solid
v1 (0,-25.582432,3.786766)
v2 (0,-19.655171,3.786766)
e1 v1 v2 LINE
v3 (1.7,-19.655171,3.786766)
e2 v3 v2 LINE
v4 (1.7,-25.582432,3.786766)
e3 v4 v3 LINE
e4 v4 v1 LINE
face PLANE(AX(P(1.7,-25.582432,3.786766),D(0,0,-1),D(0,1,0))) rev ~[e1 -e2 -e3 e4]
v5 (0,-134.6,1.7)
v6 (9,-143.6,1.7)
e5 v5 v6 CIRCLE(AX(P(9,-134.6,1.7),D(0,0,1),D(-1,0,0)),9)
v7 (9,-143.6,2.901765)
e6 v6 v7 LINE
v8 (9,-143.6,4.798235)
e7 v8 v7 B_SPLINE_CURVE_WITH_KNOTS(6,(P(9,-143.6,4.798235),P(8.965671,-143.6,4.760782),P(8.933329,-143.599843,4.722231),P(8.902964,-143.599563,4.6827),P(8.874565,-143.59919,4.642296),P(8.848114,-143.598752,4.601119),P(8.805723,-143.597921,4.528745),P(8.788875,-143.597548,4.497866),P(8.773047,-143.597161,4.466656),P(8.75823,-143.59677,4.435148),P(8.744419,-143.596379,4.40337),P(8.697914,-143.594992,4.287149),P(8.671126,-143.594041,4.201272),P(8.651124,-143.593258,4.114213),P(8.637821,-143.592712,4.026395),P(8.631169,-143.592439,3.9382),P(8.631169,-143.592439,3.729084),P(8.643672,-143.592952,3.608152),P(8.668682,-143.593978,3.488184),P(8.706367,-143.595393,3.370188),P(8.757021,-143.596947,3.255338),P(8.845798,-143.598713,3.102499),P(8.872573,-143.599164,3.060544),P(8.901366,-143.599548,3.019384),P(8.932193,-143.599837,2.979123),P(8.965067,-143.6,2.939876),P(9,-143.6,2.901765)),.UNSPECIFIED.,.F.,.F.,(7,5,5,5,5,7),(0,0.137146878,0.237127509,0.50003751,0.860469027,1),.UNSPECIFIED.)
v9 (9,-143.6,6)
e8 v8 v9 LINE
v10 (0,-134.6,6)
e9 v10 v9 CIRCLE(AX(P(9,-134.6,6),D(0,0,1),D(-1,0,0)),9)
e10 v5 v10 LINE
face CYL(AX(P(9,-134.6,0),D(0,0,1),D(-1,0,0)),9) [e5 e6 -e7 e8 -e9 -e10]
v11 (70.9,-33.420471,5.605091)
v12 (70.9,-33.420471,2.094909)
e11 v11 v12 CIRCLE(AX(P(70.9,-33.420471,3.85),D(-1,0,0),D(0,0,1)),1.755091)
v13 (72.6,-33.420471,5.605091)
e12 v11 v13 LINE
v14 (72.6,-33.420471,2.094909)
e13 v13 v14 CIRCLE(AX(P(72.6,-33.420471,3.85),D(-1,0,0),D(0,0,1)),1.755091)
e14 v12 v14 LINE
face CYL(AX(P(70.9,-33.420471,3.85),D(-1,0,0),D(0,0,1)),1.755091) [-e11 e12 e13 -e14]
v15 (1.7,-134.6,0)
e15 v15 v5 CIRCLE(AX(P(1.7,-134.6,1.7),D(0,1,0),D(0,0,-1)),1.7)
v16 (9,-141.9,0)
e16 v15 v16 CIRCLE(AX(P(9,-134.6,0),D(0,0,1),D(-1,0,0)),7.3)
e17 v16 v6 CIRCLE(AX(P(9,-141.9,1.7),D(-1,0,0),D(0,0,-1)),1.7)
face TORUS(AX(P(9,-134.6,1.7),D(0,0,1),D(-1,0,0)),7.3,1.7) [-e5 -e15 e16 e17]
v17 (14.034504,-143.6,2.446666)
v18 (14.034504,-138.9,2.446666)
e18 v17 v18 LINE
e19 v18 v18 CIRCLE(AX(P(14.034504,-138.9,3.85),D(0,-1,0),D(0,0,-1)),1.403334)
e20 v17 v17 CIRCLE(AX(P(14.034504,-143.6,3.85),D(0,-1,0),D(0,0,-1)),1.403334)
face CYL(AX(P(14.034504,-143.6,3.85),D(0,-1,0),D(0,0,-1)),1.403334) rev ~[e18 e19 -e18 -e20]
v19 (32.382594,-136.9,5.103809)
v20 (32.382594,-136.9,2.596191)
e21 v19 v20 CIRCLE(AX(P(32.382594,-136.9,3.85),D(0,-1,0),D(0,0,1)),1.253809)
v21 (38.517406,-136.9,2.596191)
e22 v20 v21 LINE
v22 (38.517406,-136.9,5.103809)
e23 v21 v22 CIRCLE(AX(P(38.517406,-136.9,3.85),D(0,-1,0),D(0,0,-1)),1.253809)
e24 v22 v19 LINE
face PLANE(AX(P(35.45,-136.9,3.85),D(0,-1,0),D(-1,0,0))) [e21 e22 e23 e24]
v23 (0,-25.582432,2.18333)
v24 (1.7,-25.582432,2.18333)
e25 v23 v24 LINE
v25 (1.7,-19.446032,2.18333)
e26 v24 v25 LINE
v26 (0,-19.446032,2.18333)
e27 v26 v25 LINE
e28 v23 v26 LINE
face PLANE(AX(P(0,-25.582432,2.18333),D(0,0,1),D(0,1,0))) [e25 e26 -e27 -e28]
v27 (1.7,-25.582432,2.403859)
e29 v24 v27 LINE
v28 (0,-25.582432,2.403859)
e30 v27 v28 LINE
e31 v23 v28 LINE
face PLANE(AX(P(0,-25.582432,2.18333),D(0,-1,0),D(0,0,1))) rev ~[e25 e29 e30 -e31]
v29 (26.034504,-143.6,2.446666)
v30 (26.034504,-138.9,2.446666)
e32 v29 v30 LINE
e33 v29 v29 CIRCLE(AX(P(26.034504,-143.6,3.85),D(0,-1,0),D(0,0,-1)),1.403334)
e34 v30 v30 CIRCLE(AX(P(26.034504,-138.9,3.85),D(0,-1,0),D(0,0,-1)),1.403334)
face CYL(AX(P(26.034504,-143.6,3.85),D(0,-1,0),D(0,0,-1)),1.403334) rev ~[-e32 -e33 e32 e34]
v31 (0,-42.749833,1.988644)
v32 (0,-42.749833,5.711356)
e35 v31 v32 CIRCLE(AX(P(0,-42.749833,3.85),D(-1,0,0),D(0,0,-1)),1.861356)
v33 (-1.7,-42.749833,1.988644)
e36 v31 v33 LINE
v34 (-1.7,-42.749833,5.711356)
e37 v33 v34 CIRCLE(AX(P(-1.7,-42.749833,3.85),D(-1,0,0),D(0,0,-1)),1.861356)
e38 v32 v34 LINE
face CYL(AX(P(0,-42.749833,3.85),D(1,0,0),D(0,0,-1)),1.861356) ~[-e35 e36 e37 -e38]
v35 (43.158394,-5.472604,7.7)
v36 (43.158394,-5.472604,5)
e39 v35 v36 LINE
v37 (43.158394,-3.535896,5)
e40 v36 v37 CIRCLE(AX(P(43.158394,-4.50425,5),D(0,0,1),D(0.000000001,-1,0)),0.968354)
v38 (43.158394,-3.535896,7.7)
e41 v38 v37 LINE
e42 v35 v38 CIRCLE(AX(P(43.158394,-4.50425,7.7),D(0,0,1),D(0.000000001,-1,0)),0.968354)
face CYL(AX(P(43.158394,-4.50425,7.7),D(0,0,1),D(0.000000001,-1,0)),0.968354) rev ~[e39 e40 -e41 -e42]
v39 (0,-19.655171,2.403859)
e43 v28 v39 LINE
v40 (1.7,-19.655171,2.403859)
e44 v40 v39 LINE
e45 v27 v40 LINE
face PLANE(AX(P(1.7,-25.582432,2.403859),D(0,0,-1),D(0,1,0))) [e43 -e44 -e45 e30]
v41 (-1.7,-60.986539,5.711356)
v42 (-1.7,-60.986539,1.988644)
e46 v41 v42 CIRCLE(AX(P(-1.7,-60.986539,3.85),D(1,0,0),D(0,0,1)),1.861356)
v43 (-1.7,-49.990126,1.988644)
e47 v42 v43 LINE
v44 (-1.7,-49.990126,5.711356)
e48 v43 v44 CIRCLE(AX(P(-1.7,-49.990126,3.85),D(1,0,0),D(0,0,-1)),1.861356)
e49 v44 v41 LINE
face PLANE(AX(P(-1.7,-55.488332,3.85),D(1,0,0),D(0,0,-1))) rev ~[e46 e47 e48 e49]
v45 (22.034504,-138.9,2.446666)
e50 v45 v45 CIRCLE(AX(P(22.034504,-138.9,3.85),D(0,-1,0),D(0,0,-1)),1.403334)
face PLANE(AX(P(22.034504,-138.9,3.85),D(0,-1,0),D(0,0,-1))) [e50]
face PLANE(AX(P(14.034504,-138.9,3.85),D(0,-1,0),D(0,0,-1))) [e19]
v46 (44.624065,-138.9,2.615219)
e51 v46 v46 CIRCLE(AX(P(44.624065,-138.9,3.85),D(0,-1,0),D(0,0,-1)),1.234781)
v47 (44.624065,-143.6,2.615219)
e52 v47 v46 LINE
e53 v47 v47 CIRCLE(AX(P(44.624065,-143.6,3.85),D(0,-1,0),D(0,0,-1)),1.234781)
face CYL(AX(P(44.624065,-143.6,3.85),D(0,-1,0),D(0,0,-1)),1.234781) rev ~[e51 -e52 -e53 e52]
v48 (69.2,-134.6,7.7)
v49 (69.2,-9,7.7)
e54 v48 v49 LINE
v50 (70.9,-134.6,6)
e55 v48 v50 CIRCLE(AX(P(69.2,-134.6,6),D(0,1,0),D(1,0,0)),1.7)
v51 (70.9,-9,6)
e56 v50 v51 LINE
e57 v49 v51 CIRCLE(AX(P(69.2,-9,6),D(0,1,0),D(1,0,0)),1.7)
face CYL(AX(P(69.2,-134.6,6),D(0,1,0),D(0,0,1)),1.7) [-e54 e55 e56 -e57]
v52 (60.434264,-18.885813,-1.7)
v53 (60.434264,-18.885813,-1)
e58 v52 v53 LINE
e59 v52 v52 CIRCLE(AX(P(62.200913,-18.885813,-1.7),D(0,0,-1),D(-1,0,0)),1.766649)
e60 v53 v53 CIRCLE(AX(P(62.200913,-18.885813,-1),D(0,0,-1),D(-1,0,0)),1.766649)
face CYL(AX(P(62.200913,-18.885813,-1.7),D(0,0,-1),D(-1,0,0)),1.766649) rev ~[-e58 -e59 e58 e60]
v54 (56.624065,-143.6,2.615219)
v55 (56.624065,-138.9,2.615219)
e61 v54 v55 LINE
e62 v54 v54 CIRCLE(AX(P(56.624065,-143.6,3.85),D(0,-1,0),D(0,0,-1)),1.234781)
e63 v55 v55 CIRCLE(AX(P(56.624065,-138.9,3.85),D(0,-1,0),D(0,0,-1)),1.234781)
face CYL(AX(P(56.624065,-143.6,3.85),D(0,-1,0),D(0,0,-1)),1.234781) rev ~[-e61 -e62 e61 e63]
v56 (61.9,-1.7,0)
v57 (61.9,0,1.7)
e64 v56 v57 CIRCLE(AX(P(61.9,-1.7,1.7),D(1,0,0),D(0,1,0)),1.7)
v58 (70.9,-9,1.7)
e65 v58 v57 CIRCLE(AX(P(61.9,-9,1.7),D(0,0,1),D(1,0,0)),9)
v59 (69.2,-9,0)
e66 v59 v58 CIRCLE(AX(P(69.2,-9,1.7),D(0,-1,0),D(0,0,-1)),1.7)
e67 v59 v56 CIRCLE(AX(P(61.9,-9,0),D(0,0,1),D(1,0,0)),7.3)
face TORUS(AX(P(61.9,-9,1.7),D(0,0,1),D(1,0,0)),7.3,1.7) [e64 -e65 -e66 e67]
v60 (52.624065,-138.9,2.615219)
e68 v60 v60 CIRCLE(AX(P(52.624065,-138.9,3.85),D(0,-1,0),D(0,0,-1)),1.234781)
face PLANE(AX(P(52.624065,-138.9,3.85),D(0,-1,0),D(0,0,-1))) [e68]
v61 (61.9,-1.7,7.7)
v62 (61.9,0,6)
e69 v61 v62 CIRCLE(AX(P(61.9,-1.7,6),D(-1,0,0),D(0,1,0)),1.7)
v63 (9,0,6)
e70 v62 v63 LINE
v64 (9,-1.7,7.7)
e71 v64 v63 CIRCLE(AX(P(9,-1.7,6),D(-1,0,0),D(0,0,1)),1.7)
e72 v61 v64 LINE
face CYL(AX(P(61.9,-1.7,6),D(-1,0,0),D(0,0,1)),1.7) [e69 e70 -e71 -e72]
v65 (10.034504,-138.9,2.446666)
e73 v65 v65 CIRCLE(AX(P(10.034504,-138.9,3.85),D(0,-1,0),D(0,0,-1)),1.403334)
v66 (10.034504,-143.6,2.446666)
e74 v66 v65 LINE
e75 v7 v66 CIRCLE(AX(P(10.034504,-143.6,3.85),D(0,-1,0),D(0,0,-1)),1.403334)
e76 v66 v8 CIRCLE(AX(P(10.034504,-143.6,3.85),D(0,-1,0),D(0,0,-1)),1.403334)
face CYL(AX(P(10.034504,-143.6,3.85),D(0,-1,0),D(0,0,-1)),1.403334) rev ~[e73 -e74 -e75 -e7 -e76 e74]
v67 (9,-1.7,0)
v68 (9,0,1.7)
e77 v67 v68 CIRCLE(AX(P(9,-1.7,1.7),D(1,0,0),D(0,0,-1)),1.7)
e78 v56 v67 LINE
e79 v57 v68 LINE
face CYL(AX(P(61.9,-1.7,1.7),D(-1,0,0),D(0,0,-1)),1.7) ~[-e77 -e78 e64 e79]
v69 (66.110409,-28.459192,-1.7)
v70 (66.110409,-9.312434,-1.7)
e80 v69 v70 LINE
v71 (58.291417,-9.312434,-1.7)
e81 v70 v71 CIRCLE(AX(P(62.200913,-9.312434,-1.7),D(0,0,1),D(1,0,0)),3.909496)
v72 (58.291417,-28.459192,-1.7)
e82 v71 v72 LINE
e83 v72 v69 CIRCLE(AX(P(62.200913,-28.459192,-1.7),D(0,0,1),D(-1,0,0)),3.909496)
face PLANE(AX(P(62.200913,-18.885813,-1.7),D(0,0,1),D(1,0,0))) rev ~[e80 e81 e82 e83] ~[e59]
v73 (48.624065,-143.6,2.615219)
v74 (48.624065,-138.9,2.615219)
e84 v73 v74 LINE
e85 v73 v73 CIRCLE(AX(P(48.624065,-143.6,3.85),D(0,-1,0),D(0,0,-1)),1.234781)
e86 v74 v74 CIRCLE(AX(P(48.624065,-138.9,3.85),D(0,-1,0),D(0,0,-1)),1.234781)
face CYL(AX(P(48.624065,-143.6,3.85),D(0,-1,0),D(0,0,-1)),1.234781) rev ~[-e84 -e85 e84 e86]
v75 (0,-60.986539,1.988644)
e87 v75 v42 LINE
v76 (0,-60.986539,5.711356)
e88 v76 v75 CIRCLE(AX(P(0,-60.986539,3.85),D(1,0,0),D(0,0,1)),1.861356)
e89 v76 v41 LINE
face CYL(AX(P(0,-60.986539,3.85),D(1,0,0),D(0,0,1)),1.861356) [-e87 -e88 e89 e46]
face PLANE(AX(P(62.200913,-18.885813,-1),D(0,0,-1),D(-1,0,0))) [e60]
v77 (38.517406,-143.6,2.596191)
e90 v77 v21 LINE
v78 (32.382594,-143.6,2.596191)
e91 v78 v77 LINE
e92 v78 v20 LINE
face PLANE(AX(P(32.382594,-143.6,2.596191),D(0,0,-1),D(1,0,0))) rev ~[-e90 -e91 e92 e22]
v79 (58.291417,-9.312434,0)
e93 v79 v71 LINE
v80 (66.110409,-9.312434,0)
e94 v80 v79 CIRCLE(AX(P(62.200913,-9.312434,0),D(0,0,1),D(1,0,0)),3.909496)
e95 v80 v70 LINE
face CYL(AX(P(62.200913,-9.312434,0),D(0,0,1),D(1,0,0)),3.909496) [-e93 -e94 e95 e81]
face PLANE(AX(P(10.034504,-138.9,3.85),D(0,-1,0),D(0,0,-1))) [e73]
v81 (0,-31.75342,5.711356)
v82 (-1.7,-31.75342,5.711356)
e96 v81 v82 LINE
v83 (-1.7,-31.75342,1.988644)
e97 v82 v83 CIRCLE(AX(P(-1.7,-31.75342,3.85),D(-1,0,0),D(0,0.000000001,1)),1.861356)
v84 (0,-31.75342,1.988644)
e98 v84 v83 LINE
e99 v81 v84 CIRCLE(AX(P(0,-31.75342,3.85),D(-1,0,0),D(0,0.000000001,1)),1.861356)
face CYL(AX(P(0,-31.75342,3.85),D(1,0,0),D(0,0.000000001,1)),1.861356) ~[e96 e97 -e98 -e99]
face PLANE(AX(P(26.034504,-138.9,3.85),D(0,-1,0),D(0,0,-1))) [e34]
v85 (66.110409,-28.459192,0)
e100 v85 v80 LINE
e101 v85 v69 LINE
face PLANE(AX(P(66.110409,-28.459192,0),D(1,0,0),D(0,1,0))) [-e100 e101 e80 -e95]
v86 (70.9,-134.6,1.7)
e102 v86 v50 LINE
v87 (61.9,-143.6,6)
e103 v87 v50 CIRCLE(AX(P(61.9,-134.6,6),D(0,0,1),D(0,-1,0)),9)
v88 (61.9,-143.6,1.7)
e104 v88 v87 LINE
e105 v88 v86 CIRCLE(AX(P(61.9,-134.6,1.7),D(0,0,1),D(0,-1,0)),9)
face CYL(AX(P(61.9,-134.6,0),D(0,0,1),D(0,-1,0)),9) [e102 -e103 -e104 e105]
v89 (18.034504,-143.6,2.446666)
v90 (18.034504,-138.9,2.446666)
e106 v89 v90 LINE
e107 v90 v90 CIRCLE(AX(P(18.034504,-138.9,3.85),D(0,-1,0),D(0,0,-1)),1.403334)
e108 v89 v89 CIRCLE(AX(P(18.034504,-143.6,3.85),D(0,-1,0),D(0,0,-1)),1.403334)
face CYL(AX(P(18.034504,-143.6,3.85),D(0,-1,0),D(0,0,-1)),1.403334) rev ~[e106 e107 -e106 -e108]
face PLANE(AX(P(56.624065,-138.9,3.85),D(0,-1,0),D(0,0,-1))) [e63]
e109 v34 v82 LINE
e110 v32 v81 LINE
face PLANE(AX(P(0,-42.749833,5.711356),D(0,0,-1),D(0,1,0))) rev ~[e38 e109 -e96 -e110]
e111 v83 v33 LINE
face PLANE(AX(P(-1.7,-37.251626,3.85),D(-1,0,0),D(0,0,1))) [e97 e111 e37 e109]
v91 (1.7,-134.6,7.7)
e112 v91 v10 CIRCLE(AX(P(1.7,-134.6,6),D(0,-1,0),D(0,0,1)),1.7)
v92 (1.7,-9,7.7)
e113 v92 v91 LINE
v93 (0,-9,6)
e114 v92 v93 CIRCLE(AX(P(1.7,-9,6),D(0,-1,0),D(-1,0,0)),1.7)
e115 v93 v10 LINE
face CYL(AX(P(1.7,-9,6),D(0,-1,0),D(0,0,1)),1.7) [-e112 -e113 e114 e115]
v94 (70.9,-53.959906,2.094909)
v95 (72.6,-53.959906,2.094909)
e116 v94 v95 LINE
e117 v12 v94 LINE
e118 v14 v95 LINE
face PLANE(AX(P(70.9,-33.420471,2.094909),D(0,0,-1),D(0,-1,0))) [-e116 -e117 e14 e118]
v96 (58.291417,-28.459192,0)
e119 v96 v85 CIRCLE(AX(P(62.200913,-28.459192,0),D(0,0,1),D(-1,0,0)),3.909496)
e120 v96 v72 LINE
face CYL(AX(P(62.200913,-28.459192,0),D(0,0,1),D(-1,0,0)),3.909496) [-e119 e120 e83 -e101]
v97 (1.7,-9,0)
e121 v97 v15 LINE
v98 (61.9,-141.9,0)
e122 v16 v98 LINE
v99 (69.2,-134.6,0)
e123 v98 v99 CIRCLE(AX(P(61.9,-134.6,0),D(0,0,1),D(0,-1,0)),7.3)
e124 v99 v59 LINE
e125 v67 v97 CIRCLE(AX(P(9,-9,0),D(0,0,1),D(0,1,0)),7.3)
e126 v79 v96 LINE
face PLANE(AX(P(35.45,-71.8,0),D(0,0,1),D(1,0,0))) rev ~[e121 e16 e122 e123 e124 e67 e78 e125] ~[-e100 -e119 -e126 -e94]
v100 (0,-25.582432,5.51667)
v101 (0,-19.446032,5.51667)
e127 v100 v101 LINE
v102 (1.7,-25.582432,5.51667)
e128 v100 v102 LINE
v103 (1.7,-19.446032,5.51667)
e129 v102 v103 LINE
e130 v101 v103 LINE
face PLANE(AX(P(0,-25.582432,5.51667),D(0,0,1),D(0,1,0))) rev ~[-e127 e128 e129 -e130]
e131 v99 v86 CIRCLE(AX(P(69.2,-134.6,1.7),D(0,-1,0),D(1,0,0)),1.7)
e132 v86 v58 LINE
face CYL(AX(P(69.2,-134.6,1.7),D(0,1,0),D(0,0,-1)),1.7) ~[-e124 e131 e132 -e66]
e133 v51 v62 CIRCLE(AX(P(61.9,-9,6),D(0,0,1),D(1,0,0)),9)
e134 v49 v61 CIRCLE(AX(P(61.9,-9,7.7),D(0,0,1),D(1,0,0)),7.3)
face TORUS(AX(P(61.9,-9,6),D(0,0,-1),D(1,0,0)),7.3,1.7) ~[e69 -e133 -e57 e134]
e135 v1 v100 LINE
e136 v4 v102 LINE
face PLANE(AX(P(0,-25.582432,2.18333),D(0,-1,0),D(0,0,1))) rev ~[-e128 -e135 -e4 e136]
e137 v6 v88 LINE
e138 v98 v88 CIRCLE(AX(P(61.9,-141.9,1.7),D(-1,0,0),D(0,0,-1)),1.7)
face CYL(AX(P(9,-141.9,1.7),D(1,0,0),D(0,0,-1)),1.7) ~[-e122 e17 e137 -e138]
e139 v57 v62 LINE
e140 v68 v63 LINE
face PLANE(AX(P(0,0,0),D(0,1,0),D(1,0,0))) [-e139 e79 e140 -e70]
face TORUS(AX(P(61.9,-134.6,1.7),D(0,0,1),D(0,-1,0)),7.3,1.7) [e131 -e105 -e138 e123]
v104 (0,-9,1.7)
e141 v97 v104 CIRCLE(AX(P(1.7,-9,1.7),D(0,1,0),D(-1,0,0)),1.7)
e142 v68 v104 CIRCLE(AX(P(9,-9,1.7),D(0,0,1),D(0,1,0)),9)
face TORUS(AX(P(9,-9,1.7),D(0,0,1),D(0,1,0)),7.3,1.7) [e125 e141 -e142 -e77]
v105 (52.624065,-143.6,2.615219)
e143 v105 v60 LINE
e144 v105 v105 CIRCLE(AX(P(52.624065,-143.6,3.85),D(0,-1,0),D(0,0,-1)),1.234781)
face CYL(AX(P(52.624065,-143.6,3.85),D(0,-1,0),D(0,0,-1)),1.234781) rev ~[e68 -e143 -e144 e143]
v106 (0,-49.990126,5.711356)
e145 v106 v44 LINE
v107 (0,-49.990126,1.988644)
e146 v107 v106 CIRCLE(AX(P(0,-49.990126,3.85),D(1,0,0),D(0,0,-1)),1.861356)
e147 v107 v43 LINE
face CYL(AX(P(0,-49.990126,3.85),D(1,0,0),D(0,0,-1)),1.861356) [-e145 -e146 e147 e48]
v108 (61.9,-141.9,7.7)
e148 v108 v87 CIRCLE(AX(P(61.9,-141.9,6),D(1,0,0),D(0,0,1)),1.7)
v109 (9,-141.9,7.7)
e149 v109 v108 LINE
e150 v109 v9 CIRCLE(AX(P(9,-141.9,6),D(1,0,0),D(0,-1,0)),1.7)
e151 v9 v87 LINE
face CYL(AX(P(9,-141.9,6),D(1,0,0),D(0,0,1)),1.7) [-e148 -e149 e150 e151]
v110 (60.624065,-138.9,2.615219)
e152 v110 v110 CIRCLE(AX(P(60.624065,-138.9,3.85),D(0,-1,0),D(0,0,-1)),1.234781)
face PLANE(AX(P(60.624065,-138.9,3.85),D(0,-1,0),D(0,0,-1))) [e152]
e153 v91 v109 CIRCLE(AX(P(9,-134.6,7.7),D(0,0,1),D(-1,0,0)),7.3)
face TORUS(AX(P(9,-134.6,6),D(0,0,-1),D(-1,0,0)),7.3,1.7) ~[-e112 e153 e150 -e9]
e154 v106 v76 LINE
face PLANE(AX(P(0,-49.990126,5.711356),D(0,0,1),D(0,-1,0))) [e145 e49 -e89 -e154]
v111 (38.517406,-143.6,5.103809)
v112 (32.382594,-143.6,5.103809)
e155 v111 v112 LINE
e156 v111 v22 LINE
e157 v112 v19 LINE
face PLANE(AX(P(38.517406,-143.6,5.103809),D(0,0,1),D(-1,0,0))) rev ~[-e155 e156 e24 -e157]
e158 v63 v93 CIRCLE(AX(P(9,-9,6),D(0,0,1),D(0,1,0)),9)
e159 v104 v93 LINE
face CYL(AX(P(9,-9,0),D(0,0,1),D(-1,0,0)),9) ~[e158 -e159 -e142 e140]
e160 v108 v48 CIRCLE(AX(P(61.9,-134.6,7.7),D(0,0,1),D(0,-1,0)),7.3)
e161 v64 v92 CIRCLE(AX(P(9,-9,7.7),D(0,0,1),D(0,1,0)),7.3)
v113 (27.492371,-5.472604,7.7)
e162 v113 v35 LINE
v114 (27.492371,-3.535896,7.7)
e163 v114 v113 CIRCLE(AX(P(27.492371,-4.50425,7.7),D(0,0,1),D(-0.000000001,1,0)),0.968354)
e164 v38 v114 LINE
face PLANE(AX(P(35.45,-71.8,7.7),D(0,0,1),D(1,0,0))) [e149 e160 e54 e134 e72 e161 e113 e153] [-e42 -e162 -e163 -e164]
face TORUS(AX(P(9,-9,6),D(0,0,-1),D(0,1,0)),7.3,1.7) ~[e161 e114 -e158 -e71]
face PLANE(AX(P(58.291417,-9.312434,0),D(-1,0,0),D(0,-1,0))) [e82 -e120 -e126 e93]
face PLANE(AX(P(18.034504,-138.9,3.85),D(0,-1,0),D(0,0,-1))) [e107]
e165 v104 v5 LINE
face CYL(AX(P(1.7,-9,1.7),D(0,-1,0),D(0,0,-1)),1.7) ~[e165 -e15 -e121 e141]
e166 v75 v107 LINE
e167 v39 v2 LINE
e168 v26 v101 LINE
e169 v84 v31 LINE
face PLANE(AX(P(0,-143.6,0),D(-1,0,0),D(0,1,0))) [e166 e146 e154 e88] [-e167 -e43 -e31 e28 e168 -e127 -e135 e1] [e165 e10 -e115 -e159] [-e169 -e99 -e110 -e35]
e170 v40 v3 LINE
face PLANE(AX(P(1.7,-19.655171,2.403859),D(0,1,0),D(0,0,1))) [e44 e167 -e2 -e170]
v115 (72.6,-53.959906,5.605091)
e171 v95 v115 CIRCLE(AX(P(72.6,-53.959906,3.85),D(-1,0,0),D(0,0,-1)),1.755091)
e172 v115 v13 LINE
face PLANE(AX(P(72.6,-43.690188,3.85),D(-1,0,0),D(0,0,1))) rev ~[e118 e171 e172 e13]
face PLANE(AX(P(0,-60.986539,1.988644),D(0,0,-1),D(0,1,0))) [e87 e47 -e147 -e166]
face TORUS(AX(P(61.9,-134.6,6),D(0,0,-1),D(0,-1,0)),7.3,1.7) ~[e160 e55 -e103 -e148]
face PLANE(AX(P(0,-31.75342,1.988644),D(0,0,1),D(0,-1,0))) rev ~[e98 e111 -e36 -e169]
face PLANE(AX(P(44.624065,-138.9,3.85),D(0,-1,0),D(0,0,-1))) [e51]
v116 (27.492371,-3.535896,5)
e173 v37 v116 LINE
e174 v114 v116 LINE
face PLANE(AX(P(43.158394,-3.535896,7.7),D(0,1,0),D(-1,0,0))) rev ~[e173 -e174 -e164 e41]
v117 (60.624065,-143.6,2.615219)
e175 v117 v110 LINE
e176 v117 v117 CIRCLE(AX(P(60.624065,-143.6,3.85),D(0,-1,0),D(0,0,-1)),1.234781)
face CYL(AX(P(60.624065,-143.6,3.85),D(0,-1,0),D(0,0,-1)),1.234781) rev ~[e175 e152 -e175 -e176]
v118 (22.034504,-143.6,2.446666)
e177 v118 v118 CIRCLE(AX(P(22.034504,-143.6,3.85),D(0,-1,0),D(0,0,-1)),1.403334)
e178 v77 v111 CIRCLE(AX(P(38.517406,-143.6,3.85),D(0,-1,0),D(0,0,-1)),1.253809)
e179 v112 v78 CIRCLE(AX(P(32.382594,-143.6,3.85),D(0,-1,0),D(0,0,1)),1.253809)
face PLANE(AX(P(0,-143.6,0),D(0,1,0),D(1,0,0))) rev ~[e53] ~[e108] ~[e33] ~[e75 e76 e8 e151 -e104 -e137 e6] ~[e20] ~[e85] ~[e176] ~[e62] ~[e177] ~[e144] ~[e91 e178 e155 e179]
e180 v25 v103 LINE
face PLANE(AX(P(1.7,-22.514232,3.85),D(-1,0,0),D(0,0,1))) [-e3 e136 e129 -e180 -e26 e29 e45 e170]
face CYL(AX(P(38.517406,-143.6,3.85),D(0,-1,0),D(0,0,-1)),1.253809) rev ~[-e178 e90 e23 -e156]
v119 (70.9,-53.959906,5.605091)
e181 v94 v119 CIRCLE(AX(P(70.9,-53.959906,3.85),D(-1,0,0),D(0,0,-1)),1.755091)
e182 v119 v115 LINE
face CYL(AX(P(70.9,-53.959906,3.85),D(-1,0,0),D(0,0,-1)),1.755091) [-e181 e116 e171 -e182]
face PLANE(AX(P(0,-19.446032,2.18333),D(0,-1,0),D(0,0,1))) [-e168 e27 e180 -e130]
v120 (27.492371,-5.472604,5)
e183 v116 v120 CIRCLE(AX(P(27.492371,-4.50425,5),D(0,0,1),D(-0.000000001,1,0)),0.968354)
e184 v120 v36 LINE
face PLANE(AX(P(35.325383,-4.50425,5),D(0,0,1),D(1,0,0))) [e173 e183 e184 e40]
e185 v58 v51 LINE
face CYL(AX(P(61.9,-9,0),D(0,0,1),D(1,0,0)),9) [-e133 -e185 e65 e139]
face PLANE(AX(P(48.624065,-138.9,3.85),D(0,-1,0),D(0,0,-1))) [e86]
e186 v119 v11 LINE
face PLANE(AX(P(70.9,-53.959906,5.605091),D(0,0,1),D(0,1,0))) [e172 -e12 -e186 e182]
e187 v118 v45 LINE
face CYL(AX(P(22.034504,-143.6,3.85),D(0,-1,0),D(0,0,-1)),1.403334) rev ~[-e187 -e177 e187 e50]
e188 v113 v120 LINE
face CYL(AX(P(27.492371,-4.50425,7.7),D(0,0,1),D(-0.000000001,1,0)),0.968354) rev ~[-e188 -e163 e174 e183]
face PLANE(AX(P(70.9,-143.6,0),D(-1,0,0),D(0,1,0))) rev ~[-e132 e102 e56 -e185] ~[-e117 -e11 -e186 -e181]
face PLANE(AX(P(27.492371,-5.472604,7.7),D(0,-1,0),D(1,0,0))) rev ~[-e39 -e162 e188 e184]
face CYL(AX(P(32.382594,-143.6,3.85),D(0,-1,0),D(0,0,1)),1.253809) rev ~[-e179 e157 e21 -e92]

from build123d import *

# Parameters (mm, degrees)
SKETCH1_W           = 70.9
SKETCH1_H           = 143.6
BOSS_EXTRUDE1_DEPTH = 7.7
FILLET1_R           = 9
BOSS_EXTRUDE2_DEPTH = 1.7
BOSS_EXTRUDE3_DEPTH = 1.7
SKETCH4_W           = 3.333340828
SKETCH4_H           = 6.136400457
CUT_EXTRUDE1_DEPTH  = 1.7
SKETCH5_W           = 1.382906497
SKETCH5_H           = 5.927261181
BOSS_EXTRUDE4_DEPTH = 1.7
BOSS_EXTRUDE5_DEPTH = 1.7
SKETCH7_R           = 1.766648845
CUT_EXTRUDE2_DEPTH  = 0.7
CUT_EXTRUDE3_DEPTH  = 6.7
SKETCH9_R           = 1.234780667
CUT_EXTRUDE4_DEPTH  = 4.7
LPATTERN1_COUNT     = 5
LPATTERN1_PITCH     = 4
SKETCH10_R          = 1.403334483
CUT_EXTRUDE5_DEPTH  = 4.7
LPATTERN2_COUNT     = 5
LPATTERN2_PITCH     = 4
CUT_EXTRUDE6_DEPTH  = 2.7
FILLET2_R           = 1.7
FILLET3_R           = 1.7


with BuildPart() as part:
    # Sketch1 → Boss-Extrude1 (new body)
    with BuildSketch(Plane.XY):
        with Locations((35.45, -71.8)):
            Rectangle(SKETCH1_W, SKETCH1_H)
    extrude(amount=BOSS_EXTRUDE1_DEPTH)

    # Fillet1
    fillet1_edges = [part.edges().sort_by_distance(p)[0] for p in [
        (0, 0, 3.85),
        (70.9, 0, 3.85),
        (70.9, -143.6, 3.85),
        (0, -143.6, 3.85),
    ]]
    fillet(fillet1_edges, radius=FILLET1_R)

    # Sketch2 → Boss-Extrude2 (add)
    with BuildSketch(Plane(origin=(70.9, -8.327936867, 0), x_dir=(0, 0, -1), z_dir=(1, 0, 0))):
        with BuildLine():
            Line((-5.605090694, -45.631969305), (-5.605090694, -25.092533891))
            ThreePointArc((-5.605090694, -25.092533891), (-3.85, -23.337443197), (-2.094909306, -25.092533891))
            Line((-2.094909306, -25.092533891), (-2.094909306, -45.631969305))
            ThreePointArc((-2.094909306, -45.631969305), (-3.85, -47.387059999), (-5.605090694, -45.631969305))
        make_face()
    extrude(amount=BOSS_EXTRUDE2_DEPTH)

    # Sketch3 → Boss-Extrude3 (add)
    with BuildSketch(Plane.ZY):
        with BuildLine():
            ThreePointArc((5.711355616, -60.986538732), (3.85, -62.847894348), (1.988644384, -60.986538732))
            Line((1.988644384, -60.986538732), (1.988644384, -49.990125604))
            ThreePointArc((1.988644384, -49.990125604), (3.85, -48.128769988), (5.711355616, -49.990125604))
            Line((5.711355616, -49.990125604), (5.711355616, -60.986538732))
        make_face()
        with BuildLine():
            ThreePointArc((5.711355616, -31.75341953), (3.85, -29.892063915), (1.988644384, -31.75341953))
            Line((1.988644384, -31.75341953), (1.988644384, -42.749832659))
            ThreePointArc((1.988644384, -42.749832659), (3.85, -44.611188275), (5.711355616, -42.749832659))
            Line((5.711355616, -42.749832659), (5.711355616, -31.75341953))
        make_face()
    extrude(amount=BOSS_EXTRUDE3_DEPTH)

    # Sketch4 → Cut-Extrude1 (cut)
    with BuildSketch(Plane.ZY):
        with Locations((3.85, -22.514232186)):
            Rectangle(SKETCH4_W, SKETCH4_H)
    extrude(amount=-CUT_EXTRUDE1_DEPTH, mode=Mode.SUBTRACT)

    # Sketch5 → Boss-Extrude4 (add)
    with BuildSketch(Plane.ZY.offset(-1.7)):
        with Locations((3.095312634, -22.618801824)):
            Rectangle(SKETCH5_W, SKETCH5_H)
    extrude(amount=BOSS_EXTRUDE4_DEPTH)

    # Sketch6 → Boss-Extrude5 (add)
    with BuildSketch(Plane(origin=(0, 0, 0), x_dir=(-1, 0, 0), z_dir=(0, 0, -1))):
        with BuildLine():
            ThreePointArc((-58.291417144, -28.459192447), (-62.200913295, -32.368688598), (-66.110409446, -28.459192447))
            Line((-66.110409446, -28.459192447), (-66.110409446, -9.312433578))
            ThreePointArc((-66.110409446, -9.312433578), (-62.200913295, -5.402937427), (-58.291417144, -9.312433578))
            Line((-58.291417144, -9.312433578), (-58.291417144, -28.459192447))
        make_face()
    extrude(amount=BOSS_EXTRUDE5_DEPTH)

    # Sketch7 → Cut-Extrude2 (cut)
    with BuildSketch(Plane(origin=(0, 0, -1.7), x_dir=(-1, 0, 0), z_dir=(0, 0, -1))):
        with Locations((-62.200913295, -18.885813012)):
            Circle(SKETCH7_R)
    extrude(amount=-CUT_EXTRUDE2_DEPTH, mode=Mode.SUBTRACT)

    # Sketch8 → Cut-Extrude3 (cut)
    with BuildSketch(Plane(origin=(0, -143.6, 0), x_dir=(-1, 0, 0), z_dir=(0, -1, 0))):
        with BuildLine():
            Line((-32.382593944, -2.596190666), (-38.517406056, -2.596190666))
            ThreePointArc((-38.517406056, -2.596190666), (-39.77121539, -3.85), (-38.517406056, -5.103809334))
            Line((-38.517406056, -5.103809334), (-32.382593944, -5.103809334))
            ThreePointArc((-32.382593944, -5.103809334), (-31.12878461, -3.85), (-32.382593944, -2.596190666))
        make_face()
    extrude(amount=-CUT_EXTRUDE3_DEPTH, mode=Mode.SUBTRACT)

    # Sketch9 → Cut-Extrude4 (cut)
    with BuildSketch(Plane.XZ.offset(143.6)):
        with Locations(Location((44.624064911, 3.85, 0), (0, 0, 270))):
            Circle(SKETCH9_R)
    cut_extrude4 = extrude(amount=-CUT_EXTRUDE4_DEPTH, mode=Mode.SUBTRACT)

    # LPattern1: Cut-Extrude4 ×5
    with Locations(*[(i * LPATTERN1_PITCH, 0, 0) for i in range(1, LPATTERN1_COUNT)]):
        add(cut_extrude4, mode=Mode.SUBTRACT)

    # Sketch10 → Cut-Extrude5 (cut)
    with BuildSketch(Plane.XZ.offset(143.6)):
        with Locations(Location((26.034503903, 3.85, 0), (0, 0, 270))):
            Circle(SKETCH10_R)
    cut_extrude5 = extrude(amount=-CUT_EXTRUDE5_DEPTH, mode=Mode.SUBTRACT)

    # LPattern2: Cut-Extrude5 ×5
    with Locations(*[(-i * LPATTERN2_PITCH, 0, 0) for i in range(1, LPATTERN2_COUNT)]):
        add(cut_extrude5, mode=Mode.SUBTRACT)

    # Sketch11 → Cut-Extrude6 (cut)
    with BuildSketch(Plane(origin=(0, -1.738509759, 7.7), x_dir=(1, 0, 0), z_dir=(0, 0, 1))):
        with BuildLine():
            Line((27.492370642, -3.734093894), (43.158394407, -3.734093894))
            ThreePointArc((43.158394407, -3.734093894), (44.126748247, -2.765740054), (43.158394407, -1.797386213))
            Line((43.158394407, -1.797386213), (27.492370642, -1.797386213))
            ThreePointArc((27.492370642, -1.797386213), (26.524016802, -2.765740054), (27.492370642, -3.734093894))
        make_face()
    extrude(amount=-CUT_EXTRUDE6_DEPTH, mode=Mode.SUBTRACT)

    # Fillet2
    fillet2_edges = [part.edges().sort_by_distance(p)[0] for p in [
        (68.263961031, -2.636038969, 7.7),
        (70.9, -71.8, 7.7),
        (68.263961031, -140.963961031, 7.7),
        (35.45, -143.6, 7.7),
        (2.636038969, -140.963961031, 7.7),
        (0, -71.8, 7.7),
        (2.636038969, -2.636038969, 7.7),
        (35.45, 0, 7.7),
    ]]
    fillet(fillet2_edges, radius=FILLET2_R)

    # Fillet3
    fillet3_edges = [part.edges().sort_by_distance(p)[0] for p in [
        (35.45, -143.6, 0),
        (0, -71.8, 0),
        (35.45, 0, 0),
        (70.9, -71.8, 0),
        (68.263961031, -2.636038969, 0),
        (2.636038969, -2.636038969, 0),
        (68.263961031, -140.963961031, 0),
        (2.636038969, -140.963961031, 0),
    ]]
    fillet(fillet3_edges, radius=FILLET3_R)


solid = part.part
